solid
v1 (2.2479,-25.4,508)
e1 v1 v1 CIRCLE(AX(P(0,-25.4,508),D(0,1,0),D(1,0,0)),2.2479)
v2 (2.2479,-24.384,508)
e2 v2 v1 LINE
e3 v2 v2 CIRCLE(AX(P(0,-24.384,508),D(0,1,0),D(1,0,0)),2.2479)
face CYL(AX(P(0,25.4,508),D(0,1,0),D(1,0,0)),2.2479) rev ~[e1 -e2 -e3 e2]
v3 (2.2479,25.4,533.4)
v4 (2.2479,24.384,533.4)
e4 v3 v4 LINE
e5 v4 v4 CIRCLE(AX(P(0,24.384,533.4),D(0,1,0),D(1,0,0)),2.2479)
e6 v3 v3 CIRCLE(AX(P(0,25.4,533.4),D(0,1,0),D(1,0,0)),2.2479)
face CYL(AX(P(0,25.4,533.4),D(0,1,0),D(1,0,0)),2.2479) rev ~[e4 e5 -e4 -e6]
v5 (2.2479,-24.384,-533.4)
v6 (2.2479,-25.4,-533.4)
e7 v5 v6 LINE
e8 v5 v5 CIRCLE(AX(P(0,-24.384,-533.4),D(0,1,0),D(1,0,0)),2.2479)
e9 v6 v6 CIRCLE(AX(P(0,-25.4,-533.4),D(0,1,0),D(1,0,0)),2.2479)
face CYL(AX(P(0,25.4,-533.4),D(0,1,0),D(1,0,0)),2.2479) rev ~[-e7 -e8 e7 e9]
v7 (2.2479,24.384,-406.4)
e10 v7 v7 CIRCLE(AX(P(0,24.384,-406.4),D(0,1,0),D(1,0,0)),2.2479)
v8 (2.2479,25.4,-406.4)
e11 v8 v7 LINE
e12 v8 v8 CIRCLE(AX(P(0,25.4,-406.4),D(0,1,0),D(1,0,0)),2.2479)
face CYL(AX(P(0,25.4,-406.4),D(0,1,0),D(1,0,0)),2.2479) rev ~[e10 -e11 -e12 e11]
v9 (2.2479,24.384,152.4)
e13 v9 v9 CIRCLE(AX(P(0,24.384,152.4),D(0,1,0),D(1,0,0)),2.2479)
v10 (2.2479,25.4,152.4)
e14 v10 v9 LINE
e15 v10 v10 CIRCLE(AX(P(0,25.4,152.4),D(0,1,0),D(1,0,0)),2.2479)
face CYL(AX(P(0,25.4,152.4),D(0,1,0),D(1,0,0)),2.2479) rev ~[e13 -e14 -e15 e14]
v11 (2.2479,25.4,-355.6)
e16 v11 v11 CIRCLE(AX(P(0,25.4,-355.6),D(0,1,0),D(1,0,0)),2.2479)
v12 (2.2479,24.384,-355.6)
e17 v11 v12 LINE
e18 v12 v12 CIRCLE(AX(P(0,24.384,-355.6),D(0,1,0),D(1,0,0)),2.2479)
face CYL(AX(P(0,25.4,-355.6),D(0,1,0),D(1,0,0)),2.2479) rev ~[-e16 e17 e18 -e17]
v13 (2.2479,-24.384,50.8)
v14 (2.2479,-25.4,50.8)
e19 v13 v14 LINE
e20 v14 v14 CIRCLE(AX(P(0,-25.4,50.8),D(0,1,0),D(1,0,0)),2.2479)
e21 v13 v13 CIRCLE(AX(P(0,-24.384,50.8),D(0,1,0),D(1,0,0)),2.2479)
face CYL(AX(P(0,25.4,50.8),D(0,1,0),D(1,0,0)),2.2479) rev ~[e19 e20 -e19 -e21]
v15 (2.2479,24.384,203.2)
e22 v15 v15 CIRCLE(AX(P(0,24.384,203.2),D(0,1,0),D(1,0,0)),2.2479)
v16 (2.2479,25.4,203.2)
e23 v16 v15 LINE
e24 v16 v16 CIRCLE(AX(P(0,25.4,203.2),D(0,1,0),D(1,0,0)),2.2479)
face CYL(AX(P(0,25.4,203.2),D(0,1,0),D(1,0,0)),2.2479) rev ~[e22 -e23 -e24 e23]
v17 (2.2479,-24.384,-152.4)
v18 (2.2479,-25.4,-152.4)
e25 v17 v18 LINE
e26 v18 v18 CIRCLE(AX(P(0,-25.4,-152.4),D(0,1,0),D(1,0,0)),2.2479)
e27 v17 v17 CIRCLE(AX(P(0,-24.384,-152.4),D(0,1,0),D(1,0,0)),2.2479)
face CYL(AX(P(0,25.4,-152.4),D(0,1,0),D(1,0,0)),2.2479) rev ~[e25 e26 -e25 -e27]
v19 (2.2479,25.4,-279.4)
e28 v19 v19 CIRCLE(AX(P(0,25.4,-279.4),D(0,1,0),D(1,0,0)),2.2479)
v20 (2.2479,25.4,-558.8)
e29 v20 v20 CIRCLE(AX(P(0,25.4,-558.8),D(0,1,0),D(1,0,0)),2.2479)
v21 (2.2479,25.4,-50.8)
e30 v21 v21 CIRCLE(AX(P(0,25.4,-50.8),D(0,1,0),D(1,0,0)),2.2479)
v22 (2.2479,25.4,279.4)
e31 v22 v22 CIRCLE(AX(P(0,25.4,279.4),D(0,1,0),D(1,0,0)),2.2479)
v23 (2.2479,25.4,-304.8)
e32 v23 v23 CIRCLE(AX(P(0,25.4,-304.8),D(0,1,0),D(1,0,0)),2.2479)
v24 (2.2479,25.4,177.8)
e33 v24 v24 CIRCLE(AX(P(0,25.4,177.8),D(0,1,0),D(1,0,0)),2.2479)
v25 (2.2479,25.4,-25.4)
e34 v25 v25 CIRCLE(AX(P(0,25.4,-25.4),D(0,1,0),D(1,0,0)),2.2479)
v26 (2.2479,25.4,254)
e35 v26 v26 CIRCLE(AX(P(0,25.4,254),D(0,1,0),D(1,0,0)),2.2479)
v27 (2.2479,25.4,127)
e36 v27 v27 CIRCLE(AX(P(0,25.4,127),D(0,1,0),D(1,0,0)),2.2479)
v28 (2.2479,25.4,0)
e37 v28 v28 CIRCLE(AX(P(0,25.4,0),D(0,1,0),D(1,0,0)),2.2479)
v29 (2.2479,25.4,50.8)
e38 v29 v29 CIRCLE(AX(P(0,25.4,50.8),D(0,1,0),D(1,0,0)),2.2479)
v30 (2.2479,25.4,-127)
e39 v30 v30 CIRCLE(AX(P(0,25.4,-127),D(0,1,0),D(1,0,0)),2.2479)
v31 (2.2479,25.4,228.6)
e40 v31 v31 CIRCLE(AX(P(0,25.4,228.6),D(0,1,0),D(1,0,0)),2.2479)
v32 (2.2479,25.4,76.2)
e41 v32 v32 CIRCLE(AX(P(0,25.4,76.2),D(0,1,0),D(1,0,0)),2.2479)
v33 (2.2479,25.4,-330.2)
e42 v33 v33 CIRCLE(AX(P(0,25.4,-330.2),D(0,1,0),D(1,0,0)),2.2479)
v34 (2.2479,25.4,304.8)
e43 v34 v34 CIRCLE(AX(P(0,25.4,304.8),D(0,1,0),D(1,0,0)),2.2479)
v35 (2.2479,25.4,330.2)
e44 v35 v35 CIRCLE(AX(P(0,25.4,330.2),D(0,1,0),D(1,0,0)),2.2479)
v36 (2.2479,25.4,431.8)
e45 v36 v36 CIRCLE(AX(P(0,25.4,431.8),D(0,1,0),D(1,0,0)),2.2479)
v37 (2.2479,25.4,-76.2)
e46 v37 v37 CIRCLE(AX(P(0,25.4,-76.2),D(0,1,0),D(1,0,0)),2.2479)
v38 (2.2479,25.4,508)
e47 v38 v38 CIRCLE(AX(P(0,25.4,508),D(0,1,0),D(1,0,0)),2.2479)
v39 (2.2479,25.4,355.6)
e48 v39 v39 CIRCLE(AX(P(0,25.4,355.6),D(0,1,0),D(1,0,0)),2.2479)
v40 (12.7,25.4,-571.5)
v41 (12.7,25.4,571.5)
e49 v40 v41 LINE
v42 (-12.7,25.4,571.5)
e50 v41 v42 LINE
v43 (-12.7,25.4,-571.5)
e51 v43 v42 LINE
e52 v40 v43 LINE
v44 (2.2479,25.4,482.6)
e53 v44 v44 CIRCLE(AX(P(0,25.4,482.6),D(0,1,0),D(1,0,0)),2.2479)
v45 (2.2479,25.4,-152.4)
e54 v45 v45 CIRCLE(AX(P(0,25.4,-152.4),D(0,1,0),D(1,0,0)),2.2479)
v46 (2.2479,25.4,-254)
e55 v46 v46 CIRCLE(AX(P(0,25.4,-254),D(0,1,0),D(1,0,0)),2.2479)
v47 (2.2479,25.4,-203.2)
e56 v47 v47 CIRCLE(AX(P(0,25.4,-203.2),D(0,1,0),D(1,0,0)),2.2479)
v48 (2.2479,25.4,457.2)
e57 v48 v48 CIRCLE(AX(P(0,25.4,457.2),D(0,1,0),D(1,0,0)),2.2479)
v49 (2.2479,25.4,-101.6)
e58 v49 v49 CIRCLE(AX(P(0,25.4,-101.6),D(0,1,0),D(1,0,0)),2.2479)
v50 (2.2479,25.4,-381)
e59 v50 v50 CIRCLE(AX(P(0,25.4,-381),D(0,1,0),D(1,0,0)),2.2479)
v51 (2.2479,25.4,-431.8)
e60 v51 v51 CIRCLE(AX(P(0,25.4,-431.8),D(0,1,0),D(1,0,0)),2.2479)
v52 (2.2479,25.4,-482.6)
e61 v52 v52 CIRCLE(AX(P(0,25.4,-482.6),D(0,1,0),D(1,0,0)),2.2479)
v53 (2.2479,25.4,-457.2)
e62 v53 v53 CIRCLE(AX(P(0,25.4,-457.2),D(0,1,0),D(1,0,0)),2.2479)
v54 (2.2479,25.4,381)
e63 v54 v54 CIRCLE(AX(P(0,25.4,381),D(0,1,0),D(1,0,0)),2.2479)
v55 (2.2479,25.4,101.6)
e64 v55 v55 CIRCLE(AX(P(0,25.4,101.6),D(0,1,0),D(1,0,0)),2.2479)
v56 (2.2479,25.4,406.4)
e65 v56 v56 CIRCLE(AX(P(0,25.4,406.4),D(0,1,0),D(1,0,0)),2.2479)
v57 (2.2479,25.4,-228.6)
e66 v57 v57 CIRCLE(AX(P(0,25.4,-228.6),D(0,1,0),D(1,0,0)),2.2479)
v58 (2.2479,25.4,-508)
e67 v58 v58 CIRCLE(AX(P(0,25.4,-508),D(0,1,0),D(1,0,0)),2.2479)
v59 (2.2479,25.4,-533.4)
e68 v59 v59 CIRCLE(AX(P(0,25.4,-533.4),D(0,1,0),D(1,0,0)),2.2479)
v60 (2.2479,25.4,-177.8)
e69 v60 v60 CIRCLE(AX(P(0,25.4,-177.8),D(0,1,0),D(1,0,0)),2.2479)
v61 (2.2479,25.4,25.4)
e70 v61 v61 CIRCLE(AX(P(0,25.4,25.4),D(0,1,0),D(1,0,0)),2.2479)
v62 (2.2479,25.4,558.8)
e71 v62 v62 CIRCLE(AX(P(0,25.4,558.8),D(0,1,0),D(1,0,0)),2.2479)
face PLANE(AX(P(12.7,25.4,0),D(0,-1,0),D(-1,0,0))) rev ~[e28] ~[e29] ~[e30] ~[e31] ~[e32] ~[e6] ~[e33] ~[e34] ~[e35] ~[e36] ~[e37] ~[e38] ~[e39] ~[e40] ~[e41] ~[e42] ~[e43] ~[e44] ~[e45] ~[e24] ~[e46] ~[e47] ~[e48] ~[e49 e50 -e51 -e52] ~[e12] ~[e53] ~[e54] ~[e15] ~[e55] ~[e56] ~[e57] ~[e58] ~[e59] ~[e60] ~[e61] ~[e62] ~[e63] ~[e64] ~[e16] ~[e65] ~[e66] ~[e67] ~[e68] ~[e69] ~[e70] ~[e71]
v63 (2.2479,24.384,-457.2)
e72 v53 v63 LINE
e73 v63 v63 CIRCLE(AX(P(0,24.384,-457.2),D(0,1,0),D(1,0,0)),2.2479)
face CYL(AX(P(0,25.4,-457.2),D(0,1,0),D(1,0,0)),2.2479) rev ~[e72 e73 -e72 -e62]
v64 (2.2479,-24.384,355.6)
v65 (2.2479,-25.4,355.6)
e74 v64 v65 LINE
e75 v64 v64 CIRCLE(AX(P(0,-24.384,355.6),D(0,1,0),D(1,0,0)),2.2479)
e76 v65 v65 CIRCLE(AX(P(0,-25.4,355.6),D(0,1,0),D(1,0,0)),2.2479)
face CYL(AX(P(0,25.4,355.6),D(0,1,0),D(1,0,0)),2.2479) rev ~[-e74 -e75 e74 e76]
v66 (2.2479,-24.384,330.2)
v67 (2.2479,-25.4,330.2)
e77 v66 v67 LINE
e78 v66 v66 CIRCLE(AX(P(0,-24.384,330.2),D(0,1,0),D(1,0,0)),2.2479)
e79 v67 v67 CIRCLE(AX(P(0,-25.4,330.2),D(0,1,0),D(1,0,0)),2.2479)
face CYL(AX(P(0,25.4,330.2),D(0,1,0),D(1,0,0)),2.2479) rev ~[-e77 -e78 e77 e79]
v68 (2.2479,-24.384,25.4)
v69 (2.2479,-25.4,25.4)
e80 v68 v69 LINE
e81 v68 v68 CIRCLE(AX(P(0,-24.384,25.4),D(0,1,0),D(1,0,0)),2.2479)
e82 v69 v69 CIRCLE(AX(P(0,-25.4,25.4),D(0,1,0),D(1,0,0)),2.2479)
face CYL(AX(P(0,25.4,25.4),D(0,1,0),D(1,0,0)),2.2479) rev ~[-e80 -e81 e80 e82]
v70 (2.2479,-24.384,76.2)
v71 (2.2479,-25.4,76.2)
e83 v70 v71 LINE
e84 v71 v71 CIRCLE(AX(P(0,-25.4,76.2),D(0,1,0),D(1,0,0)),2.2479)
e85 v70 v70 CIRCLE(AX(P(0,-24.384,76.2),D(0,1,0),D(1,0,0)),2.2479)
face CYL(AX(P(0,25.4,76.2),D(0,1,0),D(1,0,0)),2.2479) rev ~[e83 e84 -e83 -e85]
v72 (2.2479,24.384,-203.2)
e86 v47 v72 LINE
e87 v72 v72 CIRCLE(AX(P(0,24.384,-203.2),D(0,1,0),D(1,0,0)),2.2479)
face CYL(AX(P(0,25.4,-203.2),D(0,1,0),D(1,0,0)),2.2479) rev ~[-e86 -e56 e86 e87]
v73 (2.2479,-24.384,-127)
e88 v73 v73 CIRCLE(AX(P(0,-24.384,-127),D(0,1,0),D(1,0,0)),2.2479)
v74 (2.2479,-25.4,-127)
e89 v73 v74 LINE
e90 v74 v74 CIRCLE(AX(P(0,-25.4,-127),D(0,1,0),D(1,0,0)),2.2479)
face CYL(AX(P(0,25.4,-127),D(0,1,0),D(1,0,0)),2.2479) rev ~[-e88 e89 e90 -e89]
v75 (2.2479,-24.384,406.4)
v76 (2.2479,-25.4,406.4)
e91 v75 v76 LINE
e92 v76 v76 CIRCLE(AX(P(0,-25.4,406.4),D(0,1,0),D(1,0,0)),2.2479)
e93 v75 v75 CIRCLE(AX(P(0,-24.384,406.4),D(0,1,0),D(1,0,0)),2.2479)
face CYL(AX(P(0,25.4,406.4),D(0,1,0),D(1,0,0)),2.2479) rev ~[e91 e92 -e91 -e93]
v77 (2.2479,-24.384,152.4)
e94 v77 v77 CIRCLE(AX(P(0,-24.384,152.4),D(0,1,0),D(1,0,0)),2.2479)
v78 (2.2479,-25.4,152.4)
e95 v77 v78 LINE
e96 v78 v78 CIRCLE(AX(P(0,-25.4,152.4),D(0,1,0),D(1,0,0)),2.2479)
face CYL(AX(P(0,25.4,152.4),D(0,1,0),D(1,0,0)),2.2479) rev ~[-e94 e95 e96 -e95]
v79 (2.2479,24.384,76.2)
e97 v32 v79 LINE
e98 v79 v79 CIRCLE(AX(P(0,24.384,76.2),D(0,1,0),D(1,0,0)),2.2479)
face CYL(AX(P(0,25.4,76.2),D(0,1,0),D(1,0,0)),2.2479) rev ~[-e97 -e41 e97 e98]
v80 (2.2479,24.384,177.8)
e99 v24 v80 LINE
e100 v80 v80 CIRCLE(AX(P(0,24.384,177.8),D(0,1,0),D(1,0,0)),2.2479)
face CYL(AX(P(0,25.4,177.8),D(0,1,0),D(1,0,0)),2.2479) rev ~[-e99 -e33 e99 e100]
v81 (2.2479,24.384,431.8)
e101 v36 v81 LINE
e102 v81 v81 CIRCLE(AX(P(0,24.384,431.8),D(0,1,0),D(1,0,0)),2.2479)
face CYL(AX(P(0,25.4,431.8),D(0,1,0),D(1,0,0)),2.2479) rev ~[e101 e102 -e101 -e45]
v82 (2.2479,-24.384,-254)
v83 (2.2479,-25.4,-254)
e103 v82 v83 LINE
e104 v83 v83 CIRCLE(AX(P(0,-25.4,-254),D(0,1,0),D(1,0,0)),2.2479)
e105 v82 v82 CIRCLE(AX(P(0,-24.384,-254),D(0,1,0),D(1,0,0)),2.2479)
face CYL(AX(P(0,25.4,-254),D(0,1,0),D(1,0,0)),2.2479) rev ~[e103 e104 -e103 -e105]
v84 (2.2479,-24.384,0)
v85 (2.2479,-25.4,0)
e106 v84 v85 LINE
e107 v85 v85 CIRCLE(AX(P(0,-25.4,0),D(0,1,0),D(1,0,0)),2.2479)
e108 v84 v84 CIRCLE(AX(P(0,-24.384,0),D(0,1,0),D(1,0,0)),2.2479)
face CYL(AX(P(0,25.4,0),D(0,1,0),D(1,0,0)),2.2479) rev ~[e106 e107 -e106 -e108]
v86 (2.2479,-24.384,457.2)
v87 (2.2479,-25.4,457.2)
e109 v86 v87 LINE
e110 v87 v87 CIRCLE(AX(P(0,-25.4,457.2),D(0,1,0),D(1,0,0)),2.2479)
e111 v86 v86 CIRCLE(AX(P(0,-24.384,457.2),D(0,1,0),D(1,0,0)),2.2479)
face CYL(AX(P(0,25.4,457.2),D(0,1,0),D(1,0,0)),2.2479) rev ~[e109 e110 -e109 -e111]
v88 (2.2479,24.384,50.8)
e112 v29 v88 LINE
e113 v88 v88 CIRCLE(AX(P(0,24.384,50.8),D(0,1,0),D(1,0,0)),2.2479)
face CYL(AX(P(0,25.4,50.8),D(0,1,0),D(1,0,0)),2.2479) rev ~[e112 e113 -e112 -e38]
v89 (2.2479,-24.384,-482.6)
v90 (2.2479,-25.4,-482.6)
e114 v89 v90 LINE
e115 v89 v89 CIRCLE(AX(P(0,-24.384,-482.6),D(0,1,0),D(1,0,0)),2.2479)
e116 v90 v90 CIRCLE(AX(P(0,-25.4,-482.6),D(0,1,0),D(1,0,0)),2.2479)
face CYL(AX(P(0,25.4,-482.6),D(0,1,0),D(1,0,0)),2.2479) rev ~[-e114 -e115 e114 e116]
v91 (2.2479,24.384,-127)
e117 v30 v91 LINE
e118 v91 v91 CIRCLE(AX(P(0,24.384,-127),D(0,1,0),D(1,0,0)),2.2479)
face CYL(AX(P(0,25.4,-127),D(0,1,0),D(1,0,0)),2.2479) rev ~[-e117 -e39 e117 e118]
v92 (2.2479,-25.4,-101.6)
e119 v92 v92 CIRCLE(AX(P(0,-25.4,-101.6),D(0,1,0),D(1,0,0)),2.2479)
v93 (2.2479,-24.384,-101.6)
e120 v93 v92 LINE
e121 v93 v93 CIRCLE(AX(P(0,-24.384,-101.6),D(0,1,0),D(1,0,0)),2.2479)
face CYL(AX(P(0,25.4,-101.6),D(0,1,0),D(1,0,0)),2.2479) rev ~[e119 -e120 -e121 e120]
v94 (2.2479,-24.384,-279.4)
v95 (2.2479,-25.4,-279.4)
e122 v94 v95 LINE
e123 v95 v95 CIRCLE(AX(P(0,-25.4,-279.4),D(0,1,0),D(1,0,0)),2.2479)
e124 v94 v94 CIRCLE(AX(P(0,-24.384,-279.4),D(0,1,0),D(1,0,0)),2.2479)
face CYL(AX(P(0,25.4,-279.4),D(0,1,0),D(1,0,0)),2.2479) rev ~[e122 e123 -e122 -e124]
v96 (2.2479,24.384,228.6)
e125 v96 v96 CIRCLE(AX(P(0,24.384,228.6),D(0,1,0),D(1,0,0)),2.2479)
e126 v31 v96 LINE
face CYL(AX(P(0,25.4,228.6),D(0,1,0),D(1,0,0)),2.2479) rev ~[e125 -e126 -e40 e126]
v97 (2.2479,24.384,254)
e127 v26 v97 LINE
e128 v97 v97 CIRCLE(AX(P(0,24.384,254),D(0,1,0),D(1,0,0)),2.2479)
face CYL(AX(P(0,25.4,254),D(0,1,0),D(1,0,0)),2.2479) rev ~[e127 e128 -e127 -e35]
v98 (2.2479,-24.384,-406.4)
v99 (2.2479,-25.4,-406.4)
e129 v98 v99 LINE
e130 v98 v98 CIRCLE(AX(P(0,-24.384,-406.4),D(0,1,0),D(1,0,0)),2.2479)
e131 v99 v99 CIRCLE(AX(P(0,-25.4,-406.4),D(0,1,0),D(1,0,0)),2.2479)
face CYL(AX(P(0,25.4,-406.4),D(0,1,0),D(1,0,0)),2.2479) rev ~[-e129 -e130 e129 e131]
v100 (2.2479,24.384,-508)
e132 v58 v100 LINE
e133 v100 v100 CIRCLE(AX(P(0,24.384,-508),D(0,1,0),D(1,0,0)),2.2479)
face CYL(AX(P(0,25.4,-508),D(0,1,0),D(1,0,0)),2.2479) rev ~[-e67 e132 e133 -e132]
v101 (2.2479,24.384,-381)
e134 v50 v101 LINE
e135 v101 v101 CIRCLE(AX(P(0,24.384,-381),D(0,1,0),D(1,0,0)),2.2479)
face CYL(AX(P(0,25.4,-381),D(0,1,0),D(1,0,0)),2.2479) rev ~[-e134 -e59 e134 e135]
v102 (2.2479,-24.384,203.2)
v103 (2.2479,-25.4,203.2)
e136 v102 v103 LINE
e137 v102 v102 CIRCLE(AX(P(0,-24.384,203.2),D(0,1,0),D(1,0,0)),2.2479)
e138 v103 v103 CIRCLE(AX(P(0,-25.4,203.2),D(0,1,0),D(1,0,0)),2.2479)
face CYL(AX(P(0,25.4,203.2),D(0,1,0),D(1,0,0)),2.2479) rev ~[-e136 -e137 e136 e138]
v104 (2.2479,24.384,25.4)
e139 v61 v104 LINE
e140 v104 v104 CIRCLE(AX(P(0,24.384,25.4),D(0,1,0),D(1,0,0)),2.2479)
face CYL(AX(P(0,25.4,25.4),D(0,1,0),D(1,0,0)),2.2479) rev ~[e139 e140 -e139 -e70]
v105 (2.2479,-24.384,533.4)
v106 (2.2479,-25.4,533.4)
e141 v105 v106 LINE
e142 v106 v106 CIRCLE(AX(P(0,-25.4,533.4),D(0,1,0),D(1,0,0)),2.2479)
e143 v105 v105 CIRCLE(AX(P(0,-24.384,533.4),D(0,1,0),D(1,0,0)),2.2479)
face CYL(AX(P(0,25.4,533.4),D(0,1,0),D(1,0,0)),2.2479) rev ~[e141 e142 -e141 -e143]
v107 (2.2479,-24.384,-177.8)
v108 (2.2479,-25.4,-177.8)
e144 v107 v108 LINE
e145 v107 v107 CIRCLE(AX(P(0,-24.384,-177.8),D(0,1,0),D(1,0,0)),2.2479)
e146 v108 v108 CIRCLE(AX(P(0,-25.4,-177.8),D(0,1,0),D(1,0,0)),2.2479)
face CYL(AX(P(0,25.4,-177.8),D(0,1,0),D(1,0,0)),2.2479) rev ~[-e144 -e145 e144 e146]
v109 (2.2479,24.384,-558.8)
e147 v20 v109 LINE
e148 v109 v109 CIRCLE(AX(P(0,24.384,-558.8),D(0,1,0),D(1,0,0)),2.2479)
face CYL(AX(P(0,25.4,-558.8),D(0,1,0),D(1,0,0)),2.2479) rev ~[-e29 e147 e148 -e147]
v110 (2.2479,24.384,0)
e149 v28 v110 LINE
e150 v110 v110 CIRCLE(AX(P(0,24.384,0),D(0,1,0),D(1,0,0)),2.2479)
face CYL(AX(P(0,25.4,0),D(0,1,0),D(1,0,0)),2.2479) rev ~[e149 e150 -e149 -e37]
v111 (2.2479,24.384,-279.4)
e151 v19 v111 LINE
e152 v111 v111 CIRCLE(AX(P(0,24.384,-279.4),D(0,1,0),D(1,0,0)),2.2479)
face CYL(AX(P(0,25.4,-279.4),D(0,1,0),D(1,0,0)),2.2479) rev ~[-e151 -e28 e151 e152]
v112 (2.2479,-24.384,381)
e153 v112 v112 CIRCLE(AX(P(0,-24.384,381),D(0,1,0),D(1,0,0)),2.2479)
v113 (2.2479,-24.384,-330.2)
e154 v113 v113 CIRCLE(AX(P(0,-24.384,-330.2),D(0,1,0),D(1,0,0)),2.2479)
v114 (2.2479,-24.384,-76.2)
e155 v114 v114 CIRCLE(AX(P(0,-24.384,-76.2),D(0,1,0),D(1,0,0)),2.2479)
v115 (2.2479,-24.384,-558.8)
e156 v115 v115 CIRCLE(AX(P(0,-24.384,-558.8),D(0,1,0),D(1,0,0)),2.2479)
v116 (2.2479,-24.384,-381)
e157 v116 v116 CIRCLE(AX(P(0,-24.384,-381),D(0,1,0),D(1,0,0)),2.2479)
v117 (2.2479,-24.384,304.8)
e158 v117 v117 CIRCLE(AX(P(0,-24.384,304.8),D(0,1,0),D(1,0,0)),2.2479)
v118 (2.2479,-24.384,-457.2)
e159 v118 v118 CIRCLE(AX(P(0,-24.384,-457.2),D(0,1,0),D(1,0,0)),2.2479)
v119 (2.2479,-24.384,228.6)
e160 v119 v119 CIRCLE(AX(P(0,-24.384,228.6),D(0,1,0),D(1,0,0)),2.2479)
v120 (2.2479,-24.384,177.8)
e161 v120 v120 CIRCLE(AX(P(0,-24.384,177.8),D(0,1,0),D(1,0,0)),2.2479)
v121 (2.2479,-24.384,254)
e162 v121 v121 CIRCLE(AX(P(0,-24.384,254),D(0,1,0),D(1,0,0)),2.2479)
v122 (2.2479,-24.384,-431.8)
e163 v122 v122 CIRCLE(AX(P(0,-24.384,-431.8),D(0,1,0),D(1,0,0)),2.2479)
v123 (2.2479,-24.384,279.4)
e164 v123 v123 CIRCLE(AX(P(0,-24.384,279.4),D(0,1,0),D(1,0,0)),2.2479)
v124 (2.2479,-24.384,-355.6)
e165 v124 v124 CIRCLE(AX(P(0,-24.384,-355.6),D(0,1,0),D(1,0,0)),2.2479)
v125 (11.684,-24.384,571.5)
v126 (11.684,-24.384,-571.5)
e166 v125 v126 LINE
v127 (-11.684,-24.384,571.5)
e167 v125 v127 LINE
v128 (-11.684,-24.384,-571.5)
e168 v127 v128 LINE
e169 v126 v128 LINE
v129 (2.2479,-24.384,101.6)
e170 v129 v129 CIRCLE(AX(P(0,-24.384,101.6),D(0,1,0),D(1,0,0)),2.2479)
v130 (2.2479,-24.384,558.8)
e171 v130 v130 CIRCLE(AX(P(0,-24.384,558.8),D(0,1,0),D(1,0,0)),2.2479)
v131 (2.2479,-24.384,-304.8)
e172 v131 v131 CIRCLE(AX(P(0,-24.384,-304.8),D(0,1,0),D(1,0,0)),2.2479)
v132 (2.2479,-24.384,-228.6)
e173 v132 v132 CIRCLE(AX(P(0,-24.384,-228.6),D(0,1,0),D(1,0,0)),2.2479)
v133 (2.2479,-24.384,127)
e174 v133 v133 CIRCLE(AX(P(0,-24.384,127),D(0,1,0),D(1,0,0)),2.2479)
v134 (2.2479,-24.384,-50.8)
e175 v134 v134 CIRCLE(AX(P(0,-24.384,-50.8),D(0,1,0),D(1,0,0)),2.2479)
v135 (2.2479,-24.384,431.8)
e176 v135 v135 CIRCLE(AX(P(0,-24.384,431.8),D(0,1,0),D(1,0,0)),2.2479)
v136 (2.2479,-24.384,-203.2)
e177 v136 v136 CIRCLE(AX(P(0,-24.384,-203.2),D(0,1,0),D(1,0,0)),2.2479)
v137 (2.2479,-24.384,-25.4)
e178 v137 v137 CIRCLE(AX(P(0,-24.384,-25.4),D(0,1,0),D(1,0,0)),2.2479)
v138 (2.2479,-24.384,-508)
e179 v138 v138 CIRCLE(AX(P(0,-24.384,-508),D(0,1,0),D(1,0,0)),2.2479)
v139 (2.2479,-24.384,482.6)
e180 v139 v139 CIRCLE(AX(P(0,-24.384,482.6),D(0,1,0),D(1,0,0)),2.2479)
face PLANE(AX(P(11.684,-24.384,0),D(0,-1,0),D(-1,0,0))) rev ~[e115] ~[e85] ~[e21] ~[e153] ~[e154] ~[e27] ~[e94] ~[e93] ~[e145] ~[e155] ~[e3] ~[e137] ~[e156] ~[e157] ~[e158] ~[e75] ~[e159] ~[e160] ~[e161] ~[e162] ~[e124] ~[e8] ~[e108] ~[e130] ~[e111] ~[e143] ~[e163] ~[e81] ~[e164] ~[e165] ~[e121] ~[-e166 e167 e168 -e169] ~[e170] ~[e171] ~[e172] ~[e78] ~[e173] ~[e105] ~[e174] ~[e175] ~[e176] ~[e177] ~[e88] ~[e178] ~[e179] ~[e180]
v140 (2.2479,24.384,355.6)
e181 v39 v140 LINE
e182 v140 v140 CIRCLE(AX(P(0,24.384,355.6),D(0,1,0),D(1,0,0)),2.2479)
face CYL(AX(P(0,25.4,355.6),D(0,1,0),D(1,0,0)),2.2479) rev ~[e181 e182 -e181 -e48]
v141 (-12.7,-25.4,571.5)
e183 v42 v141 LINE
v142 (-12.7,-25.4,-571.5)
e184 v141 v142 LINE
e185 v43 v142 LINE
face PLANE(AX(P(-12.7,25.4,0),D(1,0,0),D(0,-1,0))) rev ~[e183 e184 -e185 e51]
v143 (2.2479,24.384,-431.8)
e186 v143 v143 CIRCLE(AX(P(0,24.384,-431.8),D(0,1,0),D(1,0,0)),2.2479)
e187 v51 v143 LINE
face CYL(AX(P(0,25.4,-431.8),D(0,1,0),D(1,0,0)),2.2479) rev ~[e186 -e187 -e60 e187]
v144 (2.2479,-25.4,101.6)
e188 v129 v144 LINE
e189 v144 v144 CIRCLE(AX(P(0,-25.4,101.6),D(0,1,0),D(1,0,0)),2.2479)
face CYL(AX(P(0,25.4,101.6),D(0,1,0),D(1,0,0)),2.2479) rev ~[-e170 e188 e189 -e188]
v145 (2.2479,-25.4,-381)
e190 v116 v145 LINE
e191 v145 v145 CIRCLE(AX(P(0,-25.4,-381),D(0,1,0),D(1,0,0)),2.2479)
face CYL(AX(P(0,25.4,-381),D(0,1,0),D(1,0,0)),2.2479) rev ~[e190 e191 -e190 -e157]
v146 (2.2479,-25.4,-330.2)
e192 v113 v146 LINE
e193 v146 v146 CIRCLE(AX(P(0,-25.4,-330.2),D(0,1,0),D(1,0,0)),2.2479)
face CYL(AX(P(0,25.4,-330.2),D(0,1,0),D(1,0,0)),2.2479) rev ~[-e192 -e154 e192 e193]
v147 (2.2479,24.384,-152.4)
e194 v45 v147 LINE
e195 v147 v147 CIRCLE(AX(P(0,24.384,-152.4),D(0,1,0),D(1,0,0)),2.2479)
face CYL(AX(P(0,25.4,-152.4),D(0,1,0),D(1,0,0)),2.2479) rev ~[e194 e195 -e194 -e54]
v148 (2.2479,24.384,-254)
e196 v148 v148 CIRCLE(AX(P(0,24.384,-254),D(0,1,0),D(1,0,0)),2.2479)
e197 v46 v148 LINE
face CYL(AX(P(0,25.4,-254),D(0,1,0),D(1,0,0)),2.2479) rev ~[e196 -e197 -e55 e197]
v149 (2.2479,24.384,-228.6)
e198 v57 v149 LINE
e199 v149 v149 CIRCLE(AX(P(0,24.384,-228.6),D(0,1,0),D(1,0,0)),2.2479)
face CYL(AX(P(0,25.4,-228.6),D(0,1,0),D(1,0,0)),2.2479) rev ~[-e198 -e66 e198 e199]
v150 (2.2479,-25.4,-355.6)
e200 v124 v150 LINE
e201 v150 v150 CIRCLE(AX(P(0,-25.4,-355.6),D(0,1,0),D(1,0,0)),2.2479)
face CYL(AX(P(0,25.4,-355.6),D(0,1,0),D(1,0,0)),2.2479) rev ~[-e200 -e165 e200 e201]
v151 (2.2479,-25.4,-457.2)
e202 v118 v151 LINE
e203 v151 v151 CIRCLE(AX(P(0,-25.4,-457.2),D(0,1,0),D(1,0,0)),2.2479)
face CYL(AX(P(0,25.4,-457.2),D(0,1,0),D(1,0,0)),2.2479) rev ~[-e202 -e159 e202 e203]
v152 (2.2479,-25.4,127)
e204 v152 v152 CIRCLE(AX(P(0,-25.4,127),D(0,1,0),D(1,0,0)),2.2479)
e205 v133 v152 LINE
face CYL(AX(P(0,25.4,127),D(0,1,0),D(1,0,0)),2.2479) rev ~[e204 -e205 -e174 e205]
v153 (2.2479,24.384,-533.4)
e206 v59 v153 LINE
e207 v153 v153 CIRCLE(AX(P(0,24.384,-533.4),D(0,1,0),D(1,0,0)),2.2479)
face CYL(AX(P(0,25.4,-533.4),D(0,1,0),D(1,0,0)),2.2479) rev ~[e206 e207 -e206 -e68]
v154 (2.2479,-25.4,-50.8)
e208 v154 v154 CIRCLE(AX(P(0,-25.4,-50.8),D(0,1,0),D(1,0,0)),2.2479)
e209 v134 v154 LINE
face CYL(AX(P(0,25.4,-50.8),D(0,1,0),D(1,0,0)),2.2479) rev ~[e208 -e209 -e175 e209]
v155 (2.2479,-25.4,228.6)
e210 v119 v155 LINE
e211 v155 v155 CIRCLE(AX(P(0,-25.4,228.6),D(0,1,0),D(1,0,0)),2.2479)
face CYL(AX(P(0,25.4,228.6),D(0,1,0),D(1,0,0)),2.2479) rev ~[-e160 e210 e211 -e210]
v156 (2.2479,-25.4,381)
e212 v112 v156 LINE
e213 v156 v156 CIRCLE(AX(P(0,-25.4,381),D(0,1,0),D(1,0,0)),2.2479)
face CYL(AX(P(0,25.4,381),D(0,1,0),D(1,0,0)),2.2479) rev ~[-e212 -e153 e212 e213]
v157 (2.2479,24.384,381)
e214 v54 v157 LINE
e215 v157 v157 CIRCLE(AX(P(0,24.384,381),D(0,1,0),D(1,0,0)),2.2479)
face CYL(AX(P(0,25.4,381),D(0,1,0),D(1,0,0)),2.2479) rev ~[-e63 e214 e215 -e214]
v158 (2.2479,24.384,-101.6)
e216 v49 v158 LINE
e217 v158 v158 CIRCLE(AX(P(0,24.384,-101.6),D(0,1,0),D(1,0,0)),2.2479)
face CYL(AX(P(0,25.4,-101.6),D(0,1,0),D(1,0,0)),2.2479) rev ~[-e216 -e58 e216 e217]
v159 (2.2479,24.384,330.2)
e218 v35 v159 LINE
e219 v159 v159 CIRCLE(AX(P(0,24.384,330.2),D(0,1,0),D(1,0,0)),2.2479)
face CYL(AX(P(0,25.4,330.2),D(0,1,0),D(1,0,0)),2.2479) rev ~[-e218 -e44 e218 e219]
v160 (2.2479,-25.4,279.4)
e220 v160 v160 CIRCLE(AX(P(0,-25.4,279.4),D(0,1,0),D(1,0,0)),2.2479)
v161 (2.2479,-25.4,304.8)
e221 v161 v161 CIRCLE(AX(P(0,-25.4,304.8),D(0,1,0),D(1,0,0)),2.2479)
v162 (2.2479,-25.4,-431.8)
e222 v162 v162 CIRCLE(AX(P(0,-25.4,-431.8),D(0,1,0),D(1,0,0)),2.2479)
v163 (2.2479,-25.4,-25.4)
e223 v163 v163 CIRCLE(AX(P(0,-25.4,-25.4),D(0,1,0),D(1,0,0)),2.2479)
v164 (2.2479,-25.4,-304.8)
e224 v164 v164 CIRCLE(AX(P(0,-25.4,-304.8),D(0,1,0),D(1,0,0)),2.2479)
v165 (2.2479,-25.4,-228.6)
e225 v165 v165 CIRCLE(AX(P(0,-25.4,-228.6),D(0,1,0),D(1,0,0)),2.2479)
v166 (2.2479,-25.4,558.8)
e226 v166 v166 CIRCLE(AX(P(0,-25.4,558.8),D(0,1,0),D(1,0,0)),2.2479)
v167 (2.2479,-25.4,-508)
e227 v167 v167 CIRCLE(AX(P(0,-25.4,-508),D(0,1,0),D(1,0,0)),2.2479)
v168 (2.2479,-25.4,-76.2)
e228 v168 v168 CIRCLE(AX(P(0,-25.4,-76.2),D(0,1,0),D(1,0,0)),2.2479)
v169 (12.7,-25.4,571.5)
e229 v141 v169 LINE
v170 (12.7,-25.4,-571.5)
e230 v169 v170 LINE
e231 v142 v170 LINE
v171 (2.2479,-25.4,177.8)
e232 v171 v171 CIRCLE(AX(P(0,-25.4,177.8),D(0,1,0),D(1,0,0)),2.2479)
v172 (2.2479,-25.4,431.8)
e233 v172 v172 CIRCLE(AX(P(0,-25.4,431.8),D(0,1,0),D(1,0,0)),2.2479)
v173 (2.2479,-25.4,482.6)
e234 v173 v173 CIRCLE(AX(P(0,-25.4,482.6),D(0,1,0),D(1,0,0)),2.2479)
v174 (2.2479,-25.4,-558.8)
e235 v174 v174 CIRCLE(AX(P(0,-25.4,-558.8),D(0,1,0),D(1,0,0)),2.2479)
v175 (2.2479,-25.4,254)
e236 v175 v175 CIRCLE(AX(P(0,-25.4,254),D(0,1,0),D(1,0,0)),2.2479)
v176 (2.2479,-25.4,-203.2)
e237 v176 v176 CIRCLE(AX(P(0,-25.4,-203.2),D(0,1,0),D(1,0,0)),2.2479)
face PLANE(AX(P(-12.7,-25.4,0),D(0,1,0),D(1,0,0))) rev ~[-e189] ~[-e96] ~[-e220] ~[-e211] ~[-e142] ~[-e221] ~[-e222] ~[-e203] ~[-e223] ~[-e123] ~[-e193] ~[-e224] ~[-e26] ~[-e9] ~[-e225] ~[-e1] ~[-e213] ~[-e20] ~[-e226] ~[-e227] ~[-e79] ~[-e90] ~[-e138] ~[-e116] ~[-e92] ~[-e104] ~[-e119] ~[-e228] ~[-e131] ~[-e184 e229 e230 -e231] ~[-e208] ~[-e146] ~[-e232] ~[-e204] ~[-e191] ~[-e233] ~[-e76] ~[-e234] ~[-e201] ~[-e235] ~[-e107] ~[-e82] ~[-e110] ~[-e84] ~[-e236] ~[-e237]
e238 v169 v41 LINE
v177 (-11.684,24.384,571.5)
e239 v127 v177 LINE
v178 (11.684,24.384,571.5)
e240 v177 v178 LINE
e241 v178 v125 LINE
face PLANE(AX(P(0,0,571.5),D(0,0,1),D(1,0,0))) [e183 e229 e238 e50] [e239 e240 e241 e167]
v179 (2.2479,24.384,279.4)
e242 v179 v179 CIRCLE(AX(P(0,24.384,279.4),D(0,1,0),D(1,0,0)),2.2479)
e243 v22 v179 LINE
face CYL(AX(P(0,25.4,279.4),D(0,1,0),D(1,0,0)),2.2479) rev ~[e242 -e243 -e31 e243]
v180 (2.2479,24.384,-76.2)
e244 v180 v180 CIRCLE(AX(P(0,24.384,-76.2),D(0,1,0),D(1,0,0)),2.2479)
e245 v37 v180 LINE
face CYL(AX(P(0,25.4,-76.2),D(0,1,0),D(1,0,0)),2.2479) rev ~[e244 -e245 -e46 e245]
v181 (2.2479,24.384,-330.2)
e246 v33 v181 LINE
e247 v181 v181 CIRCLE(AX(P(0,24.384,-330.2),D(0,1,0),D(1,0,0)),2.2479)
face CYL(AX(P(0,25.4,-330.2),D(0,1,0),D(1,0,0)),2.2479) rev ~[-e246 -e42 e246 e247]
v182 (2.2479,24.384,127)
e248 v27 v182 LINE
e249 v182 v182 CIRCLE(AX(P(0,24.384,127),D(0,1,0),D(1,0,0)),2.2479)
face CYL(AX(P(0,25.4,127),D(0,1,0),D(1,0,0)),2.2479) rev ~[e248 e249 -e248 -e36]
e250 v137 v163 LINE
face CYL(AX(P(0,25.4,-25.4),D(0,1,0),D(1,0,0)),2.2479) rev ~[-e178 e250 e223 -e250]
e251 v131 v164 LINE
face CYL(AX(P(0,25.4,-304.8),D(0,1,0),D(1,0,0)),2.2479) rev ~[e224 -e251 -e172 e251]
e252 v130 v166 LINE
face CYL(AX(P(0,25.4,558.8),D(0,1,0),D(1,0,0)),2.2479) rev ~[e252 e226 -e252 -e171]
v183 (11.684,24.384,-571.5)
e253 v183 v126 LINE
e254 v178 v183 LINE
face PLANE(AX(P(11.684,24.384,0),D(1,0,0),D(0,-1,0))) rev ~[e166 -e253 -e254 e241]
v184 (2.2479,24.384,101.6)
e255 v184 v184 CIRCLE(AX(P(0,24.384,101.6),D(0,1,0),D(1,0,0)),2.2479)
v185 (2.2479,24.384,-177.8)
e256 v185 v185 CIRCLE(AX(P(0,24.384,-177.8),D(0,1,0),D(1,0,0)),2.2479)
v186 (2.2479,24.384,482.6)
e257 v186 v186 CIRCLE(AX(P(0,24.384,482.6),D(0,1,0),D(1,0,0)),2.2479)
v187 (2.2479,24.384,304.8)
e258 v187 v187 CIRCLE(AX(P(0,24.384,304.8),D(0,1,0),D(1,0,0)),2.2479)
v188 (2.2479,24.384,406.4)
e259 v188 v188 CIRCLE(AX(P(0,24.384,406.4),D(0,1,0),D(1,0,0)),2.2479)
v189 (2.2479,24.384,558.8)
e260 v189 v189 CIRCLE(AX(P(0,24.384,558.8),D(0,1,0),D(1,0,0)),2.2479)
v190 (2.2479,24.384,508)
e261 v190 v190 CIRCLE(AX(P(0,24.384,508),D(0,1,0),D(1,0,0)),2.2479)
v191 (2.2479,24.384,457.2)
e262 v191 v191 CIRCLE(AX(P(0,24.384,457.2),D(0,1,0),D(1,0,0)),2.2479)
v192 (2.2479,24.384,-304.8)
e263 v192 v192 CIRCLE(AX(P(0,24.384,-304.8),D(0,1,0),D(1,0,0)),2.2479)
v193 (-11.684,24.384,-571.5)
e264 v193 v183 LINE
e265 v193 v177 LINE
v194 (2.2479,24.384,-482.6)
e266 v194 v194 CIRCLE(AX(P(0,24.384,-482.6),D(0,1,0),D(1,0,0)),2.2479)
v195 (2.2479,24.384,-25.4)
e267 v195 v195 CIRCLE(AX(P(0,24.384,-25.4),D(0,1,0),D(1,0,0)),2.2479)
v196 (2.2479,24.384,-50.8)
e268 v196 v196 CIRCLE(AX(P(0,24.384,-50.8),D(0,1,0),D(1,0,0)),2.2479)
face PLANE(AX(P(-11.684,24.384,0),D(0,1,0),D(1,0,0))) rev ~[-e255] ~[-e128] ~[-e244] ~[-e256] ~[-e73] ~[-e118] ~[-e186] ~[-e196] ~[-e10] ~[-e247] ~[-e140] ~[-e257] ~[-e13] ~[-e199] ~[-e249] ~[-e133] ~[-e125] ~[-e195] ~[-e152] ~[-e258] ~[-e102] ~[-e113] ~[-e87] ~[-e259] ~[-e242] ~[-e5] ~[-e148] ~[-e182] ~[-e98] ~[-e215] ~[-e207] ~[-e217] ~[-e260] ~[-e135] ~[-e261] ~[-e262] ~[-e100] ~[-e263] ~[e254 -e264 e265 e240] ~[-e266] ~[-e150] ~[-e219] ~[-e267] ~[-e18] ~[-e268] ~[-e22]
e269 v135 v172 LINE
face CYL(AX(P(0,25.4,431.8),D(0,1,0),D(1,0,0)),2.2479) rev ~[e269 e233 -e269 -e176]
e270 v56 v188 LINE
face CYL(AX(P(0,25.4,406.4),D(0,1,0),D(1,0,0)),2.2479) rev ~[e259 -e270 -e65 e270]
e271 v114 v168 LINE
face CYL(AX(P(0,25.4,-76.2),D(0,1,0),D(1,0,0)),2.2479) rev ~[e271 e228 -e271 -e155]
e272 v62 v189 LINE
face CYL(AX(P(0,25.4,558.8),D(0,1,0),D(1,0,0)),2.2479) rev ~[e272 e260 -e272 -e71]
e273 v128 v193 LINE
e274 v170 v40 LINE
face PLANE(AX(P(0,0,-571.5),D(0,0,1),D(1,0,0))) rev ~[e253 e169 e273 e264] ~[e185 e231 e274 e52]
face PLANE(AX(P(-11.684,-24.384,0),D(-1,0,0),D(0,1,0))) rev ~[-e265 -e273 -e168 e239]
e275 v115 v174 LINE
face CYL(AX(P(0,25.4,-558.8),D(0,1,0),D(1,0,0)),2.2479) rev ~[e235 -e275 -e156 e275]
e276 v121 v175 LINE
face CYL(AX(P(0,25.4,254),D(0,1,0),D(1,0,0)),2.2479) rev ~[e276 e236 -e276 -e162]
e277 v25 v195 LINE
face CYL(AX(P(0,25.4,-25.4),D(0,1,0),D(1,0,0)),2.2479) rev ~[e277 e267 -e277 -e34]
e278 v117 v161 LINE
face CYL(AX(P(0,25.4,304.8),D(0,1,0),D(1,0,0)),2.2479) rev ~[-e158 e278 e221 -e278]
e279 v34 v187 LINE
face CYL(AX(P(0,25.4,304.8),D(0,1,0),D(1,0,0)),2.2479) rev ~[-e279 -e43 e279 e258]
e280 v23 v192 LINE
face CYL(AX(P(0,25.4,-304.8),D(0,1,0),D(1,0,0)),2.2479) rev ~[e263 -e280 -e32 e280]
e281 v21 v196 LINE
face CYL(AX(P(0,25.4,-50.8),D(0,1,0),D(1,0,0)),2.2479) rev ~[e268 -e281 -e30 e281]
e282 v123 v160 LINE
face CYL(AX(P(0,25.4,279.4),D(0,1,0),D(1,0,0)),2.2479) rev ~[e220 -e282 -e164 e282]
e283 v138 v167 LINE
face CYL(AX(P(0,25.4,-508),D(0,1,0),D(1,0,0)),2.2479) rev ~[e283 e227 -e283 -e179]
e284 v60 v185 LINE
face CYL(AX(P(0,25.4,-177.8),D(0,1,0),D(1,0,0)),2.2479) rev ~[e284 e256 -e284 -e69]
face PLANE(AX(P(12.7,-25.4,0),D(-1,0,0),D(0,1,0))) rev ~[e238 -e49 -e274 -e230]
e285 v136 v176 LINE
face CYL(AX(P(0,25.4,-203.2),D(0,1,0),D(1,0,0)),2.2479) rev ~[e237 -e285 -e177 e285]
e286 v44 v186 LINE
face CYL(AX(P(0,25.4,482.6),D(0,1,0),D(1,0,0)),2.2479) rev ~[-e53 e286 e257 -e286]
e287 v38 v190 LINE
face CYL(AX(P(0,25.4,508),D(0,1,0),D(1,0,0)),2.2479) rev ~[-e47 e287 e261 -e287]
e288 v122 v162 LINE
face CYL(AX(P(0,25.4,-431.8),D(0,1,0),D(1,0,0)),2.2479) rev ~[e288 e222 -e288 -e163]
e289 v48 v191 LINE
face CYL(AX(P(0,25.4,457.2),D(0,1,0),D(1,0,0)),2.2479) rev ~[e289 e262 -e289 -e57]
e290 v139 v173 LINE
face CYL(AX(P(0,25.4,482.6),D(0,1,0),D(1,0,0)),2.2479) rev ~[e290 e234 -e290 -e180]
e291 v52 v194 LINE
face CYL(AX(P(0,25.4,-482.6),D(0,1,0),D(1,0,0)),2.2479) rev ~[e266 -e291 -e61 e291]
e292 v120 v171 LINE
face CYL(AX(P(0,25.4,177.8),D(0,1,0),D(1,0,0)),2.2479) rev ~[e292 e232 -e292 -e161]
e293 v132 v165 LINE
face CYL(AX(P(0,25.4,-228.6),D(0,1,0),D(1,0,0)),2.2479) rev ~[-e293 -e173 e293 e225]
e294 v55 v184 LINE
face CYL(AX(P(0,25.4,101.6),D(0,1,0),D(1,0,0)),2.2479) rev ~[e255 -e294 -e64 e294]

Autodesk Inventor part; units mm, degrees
ref_plane "YZ Plane" through (0, 0, 0) normal (1, 0, 0) x (0, 1, 0)
ref_plane "XZ Plane" through (0, 0, 0) normal (0, 1, 0) x (-1, 0, 0)
ref_plane "XY Plane" through (0, 0, 0) normal (0, 0, 1) x (1, 0, 0)
sketch "Sketch1" plane through (0, 0, 0) normal (0, 0, 1) x (1, 0, 0)
  line L0 (12.7, 25.4) -> (-12.7, 25.4)
  line L1 (-12.7, 25.4) -> (-12.7, -25.4)
  line L2 (-12.7, -25.4) -> (12.7, -25.4)
  line L3 (12.7, -25.4) -> (12.7, 25.4)
  line L4 (12.7, 25.4) -> (-12.7, -25.4) construction
  line L5 (-12.7, 25.4) -> (12.7, -25.4) construction
  line L6 (-11.684, 24.384) -> (11.684, 24.384)
  line L7 (11.684, 24.384) -> (11.684, -24.384)
  line L8 (11.684, -24.384) -> (-11.684, -24.384)
  line L9 (-11.684, -24.384) -> (-11.684, 24.384)
  point P0 (0, 0)
  dimension "d0" = 1.016
  dimension "d1" = 50.8
  dimension "d2" = 25.4
extrude "Tube Length" add sketch "Sketch1" along normal mid plane 1143
sketch "Sketch2" plane through (-12.7, 25.4, 571.5) normal (0, 1, 0) x (1, 0, 0)
  line L0 (0, 0) -> (0, 1143) projected
  line L1 (25.4, 0) -> (0, 0) projected
  line L2 (25.4, 1143) -> (25.4, 0) projected
  line L3 (0, 1143) -> (25.4, 1143) projected
  line L4 (25.4, 0) -> (0, 0) projected
  line L5 (12.7, 0) -> (12.7, 12.7) construction
  circle A0 centre (12.7, 12.7) radius 2.2479
  point P0 (12.7, 571.5)
  dimension "d5" = 12.7
  dimension "d6" = 4.4958
extrude "Top Hole" cut sketch "Sketch2" against normal through all contours A0
sketch "Sketch3" plane through (0, 0, 571.5) normal (0, 0, 1) x (1, 0, 0)
  line L0 (0, 0) -> (0, 25.4) construction
  line L1 (12.7, 25.4) -> (-12.7, 25.4) projected
  line L2 (-0.0508, 25.4) -> (0, 25.2984)
  line L3 (0.0508, 25.4) -> (0, 25.2984)
  line L4 (-12.7, 12.6492) -> (-12.5984, 12.7)
  line L5 (-12.7, 12.7508) -> (-12.5984, 12.7)
  line L6 (-12.7, -0.0508) -> (-12.5984, 0)
  line L7 (-12.7, 0.0508) -> (-12.5984, 0)
  line L8 (-12.7, -12.7508) -> (-12.5984, -12.7)
  line L9 (-12.7, -12.6492) -> (-12.5984, -12.7)
  line L10 (12.7, 0.0508) -> (12.5984, 0)
  line L11 (12.7, 12.6492) -> (12.5984, 12.7)
  line L12 (12.7, 12.7508) -> (12.5984, 12.7)
  line L13 (12.7, -0.0508) -> (12.5984, 0)
  line L14 (12.7, -12.6492) -> (12.5984, -12.7)
  line L15 (12.7, -12.7508) -> (12.5984, -12.7)
  line L16 (0.0508, -25.4) -> (0, -25.2984)
  line L17 (-0.0508, -25.4) -> (0, -25.2984)
  line L18 (-12.7, 25.4) -> (-12.7, -25.4) projected
  line L19 (12.7, -25.4) -> (12.7, 25.4) projected
  line L20 (-12.7, -25.4) -> (12.7, -25.4) projected
  point P0 (0, 12.7)
  point P1 (-12.7, 12.7)
  point P2 (-12.7, 0)
  point P3 (-12.7, -12.7)
  point P4 (12.7, 12.7)
  point P5 (12.7, 0)
  point P6 (12.7, -12.7)
  point P7 (0, -25.4)
  dimension "d12" = 0.1016
  dimension "d13" = 0.1016
  dimension "d16" = 90
  dimension "d20" = 12.7
  dimension "d27" = 360
pattern_linear "Rectangular Pattern1" count 46 spacing 25.4 along (0, 0, -1) of "Top Hole"
equation "\"d13\" = d12"
properties part number "Elevator Stage 1 Uprights" material "Aluminum 6061"
